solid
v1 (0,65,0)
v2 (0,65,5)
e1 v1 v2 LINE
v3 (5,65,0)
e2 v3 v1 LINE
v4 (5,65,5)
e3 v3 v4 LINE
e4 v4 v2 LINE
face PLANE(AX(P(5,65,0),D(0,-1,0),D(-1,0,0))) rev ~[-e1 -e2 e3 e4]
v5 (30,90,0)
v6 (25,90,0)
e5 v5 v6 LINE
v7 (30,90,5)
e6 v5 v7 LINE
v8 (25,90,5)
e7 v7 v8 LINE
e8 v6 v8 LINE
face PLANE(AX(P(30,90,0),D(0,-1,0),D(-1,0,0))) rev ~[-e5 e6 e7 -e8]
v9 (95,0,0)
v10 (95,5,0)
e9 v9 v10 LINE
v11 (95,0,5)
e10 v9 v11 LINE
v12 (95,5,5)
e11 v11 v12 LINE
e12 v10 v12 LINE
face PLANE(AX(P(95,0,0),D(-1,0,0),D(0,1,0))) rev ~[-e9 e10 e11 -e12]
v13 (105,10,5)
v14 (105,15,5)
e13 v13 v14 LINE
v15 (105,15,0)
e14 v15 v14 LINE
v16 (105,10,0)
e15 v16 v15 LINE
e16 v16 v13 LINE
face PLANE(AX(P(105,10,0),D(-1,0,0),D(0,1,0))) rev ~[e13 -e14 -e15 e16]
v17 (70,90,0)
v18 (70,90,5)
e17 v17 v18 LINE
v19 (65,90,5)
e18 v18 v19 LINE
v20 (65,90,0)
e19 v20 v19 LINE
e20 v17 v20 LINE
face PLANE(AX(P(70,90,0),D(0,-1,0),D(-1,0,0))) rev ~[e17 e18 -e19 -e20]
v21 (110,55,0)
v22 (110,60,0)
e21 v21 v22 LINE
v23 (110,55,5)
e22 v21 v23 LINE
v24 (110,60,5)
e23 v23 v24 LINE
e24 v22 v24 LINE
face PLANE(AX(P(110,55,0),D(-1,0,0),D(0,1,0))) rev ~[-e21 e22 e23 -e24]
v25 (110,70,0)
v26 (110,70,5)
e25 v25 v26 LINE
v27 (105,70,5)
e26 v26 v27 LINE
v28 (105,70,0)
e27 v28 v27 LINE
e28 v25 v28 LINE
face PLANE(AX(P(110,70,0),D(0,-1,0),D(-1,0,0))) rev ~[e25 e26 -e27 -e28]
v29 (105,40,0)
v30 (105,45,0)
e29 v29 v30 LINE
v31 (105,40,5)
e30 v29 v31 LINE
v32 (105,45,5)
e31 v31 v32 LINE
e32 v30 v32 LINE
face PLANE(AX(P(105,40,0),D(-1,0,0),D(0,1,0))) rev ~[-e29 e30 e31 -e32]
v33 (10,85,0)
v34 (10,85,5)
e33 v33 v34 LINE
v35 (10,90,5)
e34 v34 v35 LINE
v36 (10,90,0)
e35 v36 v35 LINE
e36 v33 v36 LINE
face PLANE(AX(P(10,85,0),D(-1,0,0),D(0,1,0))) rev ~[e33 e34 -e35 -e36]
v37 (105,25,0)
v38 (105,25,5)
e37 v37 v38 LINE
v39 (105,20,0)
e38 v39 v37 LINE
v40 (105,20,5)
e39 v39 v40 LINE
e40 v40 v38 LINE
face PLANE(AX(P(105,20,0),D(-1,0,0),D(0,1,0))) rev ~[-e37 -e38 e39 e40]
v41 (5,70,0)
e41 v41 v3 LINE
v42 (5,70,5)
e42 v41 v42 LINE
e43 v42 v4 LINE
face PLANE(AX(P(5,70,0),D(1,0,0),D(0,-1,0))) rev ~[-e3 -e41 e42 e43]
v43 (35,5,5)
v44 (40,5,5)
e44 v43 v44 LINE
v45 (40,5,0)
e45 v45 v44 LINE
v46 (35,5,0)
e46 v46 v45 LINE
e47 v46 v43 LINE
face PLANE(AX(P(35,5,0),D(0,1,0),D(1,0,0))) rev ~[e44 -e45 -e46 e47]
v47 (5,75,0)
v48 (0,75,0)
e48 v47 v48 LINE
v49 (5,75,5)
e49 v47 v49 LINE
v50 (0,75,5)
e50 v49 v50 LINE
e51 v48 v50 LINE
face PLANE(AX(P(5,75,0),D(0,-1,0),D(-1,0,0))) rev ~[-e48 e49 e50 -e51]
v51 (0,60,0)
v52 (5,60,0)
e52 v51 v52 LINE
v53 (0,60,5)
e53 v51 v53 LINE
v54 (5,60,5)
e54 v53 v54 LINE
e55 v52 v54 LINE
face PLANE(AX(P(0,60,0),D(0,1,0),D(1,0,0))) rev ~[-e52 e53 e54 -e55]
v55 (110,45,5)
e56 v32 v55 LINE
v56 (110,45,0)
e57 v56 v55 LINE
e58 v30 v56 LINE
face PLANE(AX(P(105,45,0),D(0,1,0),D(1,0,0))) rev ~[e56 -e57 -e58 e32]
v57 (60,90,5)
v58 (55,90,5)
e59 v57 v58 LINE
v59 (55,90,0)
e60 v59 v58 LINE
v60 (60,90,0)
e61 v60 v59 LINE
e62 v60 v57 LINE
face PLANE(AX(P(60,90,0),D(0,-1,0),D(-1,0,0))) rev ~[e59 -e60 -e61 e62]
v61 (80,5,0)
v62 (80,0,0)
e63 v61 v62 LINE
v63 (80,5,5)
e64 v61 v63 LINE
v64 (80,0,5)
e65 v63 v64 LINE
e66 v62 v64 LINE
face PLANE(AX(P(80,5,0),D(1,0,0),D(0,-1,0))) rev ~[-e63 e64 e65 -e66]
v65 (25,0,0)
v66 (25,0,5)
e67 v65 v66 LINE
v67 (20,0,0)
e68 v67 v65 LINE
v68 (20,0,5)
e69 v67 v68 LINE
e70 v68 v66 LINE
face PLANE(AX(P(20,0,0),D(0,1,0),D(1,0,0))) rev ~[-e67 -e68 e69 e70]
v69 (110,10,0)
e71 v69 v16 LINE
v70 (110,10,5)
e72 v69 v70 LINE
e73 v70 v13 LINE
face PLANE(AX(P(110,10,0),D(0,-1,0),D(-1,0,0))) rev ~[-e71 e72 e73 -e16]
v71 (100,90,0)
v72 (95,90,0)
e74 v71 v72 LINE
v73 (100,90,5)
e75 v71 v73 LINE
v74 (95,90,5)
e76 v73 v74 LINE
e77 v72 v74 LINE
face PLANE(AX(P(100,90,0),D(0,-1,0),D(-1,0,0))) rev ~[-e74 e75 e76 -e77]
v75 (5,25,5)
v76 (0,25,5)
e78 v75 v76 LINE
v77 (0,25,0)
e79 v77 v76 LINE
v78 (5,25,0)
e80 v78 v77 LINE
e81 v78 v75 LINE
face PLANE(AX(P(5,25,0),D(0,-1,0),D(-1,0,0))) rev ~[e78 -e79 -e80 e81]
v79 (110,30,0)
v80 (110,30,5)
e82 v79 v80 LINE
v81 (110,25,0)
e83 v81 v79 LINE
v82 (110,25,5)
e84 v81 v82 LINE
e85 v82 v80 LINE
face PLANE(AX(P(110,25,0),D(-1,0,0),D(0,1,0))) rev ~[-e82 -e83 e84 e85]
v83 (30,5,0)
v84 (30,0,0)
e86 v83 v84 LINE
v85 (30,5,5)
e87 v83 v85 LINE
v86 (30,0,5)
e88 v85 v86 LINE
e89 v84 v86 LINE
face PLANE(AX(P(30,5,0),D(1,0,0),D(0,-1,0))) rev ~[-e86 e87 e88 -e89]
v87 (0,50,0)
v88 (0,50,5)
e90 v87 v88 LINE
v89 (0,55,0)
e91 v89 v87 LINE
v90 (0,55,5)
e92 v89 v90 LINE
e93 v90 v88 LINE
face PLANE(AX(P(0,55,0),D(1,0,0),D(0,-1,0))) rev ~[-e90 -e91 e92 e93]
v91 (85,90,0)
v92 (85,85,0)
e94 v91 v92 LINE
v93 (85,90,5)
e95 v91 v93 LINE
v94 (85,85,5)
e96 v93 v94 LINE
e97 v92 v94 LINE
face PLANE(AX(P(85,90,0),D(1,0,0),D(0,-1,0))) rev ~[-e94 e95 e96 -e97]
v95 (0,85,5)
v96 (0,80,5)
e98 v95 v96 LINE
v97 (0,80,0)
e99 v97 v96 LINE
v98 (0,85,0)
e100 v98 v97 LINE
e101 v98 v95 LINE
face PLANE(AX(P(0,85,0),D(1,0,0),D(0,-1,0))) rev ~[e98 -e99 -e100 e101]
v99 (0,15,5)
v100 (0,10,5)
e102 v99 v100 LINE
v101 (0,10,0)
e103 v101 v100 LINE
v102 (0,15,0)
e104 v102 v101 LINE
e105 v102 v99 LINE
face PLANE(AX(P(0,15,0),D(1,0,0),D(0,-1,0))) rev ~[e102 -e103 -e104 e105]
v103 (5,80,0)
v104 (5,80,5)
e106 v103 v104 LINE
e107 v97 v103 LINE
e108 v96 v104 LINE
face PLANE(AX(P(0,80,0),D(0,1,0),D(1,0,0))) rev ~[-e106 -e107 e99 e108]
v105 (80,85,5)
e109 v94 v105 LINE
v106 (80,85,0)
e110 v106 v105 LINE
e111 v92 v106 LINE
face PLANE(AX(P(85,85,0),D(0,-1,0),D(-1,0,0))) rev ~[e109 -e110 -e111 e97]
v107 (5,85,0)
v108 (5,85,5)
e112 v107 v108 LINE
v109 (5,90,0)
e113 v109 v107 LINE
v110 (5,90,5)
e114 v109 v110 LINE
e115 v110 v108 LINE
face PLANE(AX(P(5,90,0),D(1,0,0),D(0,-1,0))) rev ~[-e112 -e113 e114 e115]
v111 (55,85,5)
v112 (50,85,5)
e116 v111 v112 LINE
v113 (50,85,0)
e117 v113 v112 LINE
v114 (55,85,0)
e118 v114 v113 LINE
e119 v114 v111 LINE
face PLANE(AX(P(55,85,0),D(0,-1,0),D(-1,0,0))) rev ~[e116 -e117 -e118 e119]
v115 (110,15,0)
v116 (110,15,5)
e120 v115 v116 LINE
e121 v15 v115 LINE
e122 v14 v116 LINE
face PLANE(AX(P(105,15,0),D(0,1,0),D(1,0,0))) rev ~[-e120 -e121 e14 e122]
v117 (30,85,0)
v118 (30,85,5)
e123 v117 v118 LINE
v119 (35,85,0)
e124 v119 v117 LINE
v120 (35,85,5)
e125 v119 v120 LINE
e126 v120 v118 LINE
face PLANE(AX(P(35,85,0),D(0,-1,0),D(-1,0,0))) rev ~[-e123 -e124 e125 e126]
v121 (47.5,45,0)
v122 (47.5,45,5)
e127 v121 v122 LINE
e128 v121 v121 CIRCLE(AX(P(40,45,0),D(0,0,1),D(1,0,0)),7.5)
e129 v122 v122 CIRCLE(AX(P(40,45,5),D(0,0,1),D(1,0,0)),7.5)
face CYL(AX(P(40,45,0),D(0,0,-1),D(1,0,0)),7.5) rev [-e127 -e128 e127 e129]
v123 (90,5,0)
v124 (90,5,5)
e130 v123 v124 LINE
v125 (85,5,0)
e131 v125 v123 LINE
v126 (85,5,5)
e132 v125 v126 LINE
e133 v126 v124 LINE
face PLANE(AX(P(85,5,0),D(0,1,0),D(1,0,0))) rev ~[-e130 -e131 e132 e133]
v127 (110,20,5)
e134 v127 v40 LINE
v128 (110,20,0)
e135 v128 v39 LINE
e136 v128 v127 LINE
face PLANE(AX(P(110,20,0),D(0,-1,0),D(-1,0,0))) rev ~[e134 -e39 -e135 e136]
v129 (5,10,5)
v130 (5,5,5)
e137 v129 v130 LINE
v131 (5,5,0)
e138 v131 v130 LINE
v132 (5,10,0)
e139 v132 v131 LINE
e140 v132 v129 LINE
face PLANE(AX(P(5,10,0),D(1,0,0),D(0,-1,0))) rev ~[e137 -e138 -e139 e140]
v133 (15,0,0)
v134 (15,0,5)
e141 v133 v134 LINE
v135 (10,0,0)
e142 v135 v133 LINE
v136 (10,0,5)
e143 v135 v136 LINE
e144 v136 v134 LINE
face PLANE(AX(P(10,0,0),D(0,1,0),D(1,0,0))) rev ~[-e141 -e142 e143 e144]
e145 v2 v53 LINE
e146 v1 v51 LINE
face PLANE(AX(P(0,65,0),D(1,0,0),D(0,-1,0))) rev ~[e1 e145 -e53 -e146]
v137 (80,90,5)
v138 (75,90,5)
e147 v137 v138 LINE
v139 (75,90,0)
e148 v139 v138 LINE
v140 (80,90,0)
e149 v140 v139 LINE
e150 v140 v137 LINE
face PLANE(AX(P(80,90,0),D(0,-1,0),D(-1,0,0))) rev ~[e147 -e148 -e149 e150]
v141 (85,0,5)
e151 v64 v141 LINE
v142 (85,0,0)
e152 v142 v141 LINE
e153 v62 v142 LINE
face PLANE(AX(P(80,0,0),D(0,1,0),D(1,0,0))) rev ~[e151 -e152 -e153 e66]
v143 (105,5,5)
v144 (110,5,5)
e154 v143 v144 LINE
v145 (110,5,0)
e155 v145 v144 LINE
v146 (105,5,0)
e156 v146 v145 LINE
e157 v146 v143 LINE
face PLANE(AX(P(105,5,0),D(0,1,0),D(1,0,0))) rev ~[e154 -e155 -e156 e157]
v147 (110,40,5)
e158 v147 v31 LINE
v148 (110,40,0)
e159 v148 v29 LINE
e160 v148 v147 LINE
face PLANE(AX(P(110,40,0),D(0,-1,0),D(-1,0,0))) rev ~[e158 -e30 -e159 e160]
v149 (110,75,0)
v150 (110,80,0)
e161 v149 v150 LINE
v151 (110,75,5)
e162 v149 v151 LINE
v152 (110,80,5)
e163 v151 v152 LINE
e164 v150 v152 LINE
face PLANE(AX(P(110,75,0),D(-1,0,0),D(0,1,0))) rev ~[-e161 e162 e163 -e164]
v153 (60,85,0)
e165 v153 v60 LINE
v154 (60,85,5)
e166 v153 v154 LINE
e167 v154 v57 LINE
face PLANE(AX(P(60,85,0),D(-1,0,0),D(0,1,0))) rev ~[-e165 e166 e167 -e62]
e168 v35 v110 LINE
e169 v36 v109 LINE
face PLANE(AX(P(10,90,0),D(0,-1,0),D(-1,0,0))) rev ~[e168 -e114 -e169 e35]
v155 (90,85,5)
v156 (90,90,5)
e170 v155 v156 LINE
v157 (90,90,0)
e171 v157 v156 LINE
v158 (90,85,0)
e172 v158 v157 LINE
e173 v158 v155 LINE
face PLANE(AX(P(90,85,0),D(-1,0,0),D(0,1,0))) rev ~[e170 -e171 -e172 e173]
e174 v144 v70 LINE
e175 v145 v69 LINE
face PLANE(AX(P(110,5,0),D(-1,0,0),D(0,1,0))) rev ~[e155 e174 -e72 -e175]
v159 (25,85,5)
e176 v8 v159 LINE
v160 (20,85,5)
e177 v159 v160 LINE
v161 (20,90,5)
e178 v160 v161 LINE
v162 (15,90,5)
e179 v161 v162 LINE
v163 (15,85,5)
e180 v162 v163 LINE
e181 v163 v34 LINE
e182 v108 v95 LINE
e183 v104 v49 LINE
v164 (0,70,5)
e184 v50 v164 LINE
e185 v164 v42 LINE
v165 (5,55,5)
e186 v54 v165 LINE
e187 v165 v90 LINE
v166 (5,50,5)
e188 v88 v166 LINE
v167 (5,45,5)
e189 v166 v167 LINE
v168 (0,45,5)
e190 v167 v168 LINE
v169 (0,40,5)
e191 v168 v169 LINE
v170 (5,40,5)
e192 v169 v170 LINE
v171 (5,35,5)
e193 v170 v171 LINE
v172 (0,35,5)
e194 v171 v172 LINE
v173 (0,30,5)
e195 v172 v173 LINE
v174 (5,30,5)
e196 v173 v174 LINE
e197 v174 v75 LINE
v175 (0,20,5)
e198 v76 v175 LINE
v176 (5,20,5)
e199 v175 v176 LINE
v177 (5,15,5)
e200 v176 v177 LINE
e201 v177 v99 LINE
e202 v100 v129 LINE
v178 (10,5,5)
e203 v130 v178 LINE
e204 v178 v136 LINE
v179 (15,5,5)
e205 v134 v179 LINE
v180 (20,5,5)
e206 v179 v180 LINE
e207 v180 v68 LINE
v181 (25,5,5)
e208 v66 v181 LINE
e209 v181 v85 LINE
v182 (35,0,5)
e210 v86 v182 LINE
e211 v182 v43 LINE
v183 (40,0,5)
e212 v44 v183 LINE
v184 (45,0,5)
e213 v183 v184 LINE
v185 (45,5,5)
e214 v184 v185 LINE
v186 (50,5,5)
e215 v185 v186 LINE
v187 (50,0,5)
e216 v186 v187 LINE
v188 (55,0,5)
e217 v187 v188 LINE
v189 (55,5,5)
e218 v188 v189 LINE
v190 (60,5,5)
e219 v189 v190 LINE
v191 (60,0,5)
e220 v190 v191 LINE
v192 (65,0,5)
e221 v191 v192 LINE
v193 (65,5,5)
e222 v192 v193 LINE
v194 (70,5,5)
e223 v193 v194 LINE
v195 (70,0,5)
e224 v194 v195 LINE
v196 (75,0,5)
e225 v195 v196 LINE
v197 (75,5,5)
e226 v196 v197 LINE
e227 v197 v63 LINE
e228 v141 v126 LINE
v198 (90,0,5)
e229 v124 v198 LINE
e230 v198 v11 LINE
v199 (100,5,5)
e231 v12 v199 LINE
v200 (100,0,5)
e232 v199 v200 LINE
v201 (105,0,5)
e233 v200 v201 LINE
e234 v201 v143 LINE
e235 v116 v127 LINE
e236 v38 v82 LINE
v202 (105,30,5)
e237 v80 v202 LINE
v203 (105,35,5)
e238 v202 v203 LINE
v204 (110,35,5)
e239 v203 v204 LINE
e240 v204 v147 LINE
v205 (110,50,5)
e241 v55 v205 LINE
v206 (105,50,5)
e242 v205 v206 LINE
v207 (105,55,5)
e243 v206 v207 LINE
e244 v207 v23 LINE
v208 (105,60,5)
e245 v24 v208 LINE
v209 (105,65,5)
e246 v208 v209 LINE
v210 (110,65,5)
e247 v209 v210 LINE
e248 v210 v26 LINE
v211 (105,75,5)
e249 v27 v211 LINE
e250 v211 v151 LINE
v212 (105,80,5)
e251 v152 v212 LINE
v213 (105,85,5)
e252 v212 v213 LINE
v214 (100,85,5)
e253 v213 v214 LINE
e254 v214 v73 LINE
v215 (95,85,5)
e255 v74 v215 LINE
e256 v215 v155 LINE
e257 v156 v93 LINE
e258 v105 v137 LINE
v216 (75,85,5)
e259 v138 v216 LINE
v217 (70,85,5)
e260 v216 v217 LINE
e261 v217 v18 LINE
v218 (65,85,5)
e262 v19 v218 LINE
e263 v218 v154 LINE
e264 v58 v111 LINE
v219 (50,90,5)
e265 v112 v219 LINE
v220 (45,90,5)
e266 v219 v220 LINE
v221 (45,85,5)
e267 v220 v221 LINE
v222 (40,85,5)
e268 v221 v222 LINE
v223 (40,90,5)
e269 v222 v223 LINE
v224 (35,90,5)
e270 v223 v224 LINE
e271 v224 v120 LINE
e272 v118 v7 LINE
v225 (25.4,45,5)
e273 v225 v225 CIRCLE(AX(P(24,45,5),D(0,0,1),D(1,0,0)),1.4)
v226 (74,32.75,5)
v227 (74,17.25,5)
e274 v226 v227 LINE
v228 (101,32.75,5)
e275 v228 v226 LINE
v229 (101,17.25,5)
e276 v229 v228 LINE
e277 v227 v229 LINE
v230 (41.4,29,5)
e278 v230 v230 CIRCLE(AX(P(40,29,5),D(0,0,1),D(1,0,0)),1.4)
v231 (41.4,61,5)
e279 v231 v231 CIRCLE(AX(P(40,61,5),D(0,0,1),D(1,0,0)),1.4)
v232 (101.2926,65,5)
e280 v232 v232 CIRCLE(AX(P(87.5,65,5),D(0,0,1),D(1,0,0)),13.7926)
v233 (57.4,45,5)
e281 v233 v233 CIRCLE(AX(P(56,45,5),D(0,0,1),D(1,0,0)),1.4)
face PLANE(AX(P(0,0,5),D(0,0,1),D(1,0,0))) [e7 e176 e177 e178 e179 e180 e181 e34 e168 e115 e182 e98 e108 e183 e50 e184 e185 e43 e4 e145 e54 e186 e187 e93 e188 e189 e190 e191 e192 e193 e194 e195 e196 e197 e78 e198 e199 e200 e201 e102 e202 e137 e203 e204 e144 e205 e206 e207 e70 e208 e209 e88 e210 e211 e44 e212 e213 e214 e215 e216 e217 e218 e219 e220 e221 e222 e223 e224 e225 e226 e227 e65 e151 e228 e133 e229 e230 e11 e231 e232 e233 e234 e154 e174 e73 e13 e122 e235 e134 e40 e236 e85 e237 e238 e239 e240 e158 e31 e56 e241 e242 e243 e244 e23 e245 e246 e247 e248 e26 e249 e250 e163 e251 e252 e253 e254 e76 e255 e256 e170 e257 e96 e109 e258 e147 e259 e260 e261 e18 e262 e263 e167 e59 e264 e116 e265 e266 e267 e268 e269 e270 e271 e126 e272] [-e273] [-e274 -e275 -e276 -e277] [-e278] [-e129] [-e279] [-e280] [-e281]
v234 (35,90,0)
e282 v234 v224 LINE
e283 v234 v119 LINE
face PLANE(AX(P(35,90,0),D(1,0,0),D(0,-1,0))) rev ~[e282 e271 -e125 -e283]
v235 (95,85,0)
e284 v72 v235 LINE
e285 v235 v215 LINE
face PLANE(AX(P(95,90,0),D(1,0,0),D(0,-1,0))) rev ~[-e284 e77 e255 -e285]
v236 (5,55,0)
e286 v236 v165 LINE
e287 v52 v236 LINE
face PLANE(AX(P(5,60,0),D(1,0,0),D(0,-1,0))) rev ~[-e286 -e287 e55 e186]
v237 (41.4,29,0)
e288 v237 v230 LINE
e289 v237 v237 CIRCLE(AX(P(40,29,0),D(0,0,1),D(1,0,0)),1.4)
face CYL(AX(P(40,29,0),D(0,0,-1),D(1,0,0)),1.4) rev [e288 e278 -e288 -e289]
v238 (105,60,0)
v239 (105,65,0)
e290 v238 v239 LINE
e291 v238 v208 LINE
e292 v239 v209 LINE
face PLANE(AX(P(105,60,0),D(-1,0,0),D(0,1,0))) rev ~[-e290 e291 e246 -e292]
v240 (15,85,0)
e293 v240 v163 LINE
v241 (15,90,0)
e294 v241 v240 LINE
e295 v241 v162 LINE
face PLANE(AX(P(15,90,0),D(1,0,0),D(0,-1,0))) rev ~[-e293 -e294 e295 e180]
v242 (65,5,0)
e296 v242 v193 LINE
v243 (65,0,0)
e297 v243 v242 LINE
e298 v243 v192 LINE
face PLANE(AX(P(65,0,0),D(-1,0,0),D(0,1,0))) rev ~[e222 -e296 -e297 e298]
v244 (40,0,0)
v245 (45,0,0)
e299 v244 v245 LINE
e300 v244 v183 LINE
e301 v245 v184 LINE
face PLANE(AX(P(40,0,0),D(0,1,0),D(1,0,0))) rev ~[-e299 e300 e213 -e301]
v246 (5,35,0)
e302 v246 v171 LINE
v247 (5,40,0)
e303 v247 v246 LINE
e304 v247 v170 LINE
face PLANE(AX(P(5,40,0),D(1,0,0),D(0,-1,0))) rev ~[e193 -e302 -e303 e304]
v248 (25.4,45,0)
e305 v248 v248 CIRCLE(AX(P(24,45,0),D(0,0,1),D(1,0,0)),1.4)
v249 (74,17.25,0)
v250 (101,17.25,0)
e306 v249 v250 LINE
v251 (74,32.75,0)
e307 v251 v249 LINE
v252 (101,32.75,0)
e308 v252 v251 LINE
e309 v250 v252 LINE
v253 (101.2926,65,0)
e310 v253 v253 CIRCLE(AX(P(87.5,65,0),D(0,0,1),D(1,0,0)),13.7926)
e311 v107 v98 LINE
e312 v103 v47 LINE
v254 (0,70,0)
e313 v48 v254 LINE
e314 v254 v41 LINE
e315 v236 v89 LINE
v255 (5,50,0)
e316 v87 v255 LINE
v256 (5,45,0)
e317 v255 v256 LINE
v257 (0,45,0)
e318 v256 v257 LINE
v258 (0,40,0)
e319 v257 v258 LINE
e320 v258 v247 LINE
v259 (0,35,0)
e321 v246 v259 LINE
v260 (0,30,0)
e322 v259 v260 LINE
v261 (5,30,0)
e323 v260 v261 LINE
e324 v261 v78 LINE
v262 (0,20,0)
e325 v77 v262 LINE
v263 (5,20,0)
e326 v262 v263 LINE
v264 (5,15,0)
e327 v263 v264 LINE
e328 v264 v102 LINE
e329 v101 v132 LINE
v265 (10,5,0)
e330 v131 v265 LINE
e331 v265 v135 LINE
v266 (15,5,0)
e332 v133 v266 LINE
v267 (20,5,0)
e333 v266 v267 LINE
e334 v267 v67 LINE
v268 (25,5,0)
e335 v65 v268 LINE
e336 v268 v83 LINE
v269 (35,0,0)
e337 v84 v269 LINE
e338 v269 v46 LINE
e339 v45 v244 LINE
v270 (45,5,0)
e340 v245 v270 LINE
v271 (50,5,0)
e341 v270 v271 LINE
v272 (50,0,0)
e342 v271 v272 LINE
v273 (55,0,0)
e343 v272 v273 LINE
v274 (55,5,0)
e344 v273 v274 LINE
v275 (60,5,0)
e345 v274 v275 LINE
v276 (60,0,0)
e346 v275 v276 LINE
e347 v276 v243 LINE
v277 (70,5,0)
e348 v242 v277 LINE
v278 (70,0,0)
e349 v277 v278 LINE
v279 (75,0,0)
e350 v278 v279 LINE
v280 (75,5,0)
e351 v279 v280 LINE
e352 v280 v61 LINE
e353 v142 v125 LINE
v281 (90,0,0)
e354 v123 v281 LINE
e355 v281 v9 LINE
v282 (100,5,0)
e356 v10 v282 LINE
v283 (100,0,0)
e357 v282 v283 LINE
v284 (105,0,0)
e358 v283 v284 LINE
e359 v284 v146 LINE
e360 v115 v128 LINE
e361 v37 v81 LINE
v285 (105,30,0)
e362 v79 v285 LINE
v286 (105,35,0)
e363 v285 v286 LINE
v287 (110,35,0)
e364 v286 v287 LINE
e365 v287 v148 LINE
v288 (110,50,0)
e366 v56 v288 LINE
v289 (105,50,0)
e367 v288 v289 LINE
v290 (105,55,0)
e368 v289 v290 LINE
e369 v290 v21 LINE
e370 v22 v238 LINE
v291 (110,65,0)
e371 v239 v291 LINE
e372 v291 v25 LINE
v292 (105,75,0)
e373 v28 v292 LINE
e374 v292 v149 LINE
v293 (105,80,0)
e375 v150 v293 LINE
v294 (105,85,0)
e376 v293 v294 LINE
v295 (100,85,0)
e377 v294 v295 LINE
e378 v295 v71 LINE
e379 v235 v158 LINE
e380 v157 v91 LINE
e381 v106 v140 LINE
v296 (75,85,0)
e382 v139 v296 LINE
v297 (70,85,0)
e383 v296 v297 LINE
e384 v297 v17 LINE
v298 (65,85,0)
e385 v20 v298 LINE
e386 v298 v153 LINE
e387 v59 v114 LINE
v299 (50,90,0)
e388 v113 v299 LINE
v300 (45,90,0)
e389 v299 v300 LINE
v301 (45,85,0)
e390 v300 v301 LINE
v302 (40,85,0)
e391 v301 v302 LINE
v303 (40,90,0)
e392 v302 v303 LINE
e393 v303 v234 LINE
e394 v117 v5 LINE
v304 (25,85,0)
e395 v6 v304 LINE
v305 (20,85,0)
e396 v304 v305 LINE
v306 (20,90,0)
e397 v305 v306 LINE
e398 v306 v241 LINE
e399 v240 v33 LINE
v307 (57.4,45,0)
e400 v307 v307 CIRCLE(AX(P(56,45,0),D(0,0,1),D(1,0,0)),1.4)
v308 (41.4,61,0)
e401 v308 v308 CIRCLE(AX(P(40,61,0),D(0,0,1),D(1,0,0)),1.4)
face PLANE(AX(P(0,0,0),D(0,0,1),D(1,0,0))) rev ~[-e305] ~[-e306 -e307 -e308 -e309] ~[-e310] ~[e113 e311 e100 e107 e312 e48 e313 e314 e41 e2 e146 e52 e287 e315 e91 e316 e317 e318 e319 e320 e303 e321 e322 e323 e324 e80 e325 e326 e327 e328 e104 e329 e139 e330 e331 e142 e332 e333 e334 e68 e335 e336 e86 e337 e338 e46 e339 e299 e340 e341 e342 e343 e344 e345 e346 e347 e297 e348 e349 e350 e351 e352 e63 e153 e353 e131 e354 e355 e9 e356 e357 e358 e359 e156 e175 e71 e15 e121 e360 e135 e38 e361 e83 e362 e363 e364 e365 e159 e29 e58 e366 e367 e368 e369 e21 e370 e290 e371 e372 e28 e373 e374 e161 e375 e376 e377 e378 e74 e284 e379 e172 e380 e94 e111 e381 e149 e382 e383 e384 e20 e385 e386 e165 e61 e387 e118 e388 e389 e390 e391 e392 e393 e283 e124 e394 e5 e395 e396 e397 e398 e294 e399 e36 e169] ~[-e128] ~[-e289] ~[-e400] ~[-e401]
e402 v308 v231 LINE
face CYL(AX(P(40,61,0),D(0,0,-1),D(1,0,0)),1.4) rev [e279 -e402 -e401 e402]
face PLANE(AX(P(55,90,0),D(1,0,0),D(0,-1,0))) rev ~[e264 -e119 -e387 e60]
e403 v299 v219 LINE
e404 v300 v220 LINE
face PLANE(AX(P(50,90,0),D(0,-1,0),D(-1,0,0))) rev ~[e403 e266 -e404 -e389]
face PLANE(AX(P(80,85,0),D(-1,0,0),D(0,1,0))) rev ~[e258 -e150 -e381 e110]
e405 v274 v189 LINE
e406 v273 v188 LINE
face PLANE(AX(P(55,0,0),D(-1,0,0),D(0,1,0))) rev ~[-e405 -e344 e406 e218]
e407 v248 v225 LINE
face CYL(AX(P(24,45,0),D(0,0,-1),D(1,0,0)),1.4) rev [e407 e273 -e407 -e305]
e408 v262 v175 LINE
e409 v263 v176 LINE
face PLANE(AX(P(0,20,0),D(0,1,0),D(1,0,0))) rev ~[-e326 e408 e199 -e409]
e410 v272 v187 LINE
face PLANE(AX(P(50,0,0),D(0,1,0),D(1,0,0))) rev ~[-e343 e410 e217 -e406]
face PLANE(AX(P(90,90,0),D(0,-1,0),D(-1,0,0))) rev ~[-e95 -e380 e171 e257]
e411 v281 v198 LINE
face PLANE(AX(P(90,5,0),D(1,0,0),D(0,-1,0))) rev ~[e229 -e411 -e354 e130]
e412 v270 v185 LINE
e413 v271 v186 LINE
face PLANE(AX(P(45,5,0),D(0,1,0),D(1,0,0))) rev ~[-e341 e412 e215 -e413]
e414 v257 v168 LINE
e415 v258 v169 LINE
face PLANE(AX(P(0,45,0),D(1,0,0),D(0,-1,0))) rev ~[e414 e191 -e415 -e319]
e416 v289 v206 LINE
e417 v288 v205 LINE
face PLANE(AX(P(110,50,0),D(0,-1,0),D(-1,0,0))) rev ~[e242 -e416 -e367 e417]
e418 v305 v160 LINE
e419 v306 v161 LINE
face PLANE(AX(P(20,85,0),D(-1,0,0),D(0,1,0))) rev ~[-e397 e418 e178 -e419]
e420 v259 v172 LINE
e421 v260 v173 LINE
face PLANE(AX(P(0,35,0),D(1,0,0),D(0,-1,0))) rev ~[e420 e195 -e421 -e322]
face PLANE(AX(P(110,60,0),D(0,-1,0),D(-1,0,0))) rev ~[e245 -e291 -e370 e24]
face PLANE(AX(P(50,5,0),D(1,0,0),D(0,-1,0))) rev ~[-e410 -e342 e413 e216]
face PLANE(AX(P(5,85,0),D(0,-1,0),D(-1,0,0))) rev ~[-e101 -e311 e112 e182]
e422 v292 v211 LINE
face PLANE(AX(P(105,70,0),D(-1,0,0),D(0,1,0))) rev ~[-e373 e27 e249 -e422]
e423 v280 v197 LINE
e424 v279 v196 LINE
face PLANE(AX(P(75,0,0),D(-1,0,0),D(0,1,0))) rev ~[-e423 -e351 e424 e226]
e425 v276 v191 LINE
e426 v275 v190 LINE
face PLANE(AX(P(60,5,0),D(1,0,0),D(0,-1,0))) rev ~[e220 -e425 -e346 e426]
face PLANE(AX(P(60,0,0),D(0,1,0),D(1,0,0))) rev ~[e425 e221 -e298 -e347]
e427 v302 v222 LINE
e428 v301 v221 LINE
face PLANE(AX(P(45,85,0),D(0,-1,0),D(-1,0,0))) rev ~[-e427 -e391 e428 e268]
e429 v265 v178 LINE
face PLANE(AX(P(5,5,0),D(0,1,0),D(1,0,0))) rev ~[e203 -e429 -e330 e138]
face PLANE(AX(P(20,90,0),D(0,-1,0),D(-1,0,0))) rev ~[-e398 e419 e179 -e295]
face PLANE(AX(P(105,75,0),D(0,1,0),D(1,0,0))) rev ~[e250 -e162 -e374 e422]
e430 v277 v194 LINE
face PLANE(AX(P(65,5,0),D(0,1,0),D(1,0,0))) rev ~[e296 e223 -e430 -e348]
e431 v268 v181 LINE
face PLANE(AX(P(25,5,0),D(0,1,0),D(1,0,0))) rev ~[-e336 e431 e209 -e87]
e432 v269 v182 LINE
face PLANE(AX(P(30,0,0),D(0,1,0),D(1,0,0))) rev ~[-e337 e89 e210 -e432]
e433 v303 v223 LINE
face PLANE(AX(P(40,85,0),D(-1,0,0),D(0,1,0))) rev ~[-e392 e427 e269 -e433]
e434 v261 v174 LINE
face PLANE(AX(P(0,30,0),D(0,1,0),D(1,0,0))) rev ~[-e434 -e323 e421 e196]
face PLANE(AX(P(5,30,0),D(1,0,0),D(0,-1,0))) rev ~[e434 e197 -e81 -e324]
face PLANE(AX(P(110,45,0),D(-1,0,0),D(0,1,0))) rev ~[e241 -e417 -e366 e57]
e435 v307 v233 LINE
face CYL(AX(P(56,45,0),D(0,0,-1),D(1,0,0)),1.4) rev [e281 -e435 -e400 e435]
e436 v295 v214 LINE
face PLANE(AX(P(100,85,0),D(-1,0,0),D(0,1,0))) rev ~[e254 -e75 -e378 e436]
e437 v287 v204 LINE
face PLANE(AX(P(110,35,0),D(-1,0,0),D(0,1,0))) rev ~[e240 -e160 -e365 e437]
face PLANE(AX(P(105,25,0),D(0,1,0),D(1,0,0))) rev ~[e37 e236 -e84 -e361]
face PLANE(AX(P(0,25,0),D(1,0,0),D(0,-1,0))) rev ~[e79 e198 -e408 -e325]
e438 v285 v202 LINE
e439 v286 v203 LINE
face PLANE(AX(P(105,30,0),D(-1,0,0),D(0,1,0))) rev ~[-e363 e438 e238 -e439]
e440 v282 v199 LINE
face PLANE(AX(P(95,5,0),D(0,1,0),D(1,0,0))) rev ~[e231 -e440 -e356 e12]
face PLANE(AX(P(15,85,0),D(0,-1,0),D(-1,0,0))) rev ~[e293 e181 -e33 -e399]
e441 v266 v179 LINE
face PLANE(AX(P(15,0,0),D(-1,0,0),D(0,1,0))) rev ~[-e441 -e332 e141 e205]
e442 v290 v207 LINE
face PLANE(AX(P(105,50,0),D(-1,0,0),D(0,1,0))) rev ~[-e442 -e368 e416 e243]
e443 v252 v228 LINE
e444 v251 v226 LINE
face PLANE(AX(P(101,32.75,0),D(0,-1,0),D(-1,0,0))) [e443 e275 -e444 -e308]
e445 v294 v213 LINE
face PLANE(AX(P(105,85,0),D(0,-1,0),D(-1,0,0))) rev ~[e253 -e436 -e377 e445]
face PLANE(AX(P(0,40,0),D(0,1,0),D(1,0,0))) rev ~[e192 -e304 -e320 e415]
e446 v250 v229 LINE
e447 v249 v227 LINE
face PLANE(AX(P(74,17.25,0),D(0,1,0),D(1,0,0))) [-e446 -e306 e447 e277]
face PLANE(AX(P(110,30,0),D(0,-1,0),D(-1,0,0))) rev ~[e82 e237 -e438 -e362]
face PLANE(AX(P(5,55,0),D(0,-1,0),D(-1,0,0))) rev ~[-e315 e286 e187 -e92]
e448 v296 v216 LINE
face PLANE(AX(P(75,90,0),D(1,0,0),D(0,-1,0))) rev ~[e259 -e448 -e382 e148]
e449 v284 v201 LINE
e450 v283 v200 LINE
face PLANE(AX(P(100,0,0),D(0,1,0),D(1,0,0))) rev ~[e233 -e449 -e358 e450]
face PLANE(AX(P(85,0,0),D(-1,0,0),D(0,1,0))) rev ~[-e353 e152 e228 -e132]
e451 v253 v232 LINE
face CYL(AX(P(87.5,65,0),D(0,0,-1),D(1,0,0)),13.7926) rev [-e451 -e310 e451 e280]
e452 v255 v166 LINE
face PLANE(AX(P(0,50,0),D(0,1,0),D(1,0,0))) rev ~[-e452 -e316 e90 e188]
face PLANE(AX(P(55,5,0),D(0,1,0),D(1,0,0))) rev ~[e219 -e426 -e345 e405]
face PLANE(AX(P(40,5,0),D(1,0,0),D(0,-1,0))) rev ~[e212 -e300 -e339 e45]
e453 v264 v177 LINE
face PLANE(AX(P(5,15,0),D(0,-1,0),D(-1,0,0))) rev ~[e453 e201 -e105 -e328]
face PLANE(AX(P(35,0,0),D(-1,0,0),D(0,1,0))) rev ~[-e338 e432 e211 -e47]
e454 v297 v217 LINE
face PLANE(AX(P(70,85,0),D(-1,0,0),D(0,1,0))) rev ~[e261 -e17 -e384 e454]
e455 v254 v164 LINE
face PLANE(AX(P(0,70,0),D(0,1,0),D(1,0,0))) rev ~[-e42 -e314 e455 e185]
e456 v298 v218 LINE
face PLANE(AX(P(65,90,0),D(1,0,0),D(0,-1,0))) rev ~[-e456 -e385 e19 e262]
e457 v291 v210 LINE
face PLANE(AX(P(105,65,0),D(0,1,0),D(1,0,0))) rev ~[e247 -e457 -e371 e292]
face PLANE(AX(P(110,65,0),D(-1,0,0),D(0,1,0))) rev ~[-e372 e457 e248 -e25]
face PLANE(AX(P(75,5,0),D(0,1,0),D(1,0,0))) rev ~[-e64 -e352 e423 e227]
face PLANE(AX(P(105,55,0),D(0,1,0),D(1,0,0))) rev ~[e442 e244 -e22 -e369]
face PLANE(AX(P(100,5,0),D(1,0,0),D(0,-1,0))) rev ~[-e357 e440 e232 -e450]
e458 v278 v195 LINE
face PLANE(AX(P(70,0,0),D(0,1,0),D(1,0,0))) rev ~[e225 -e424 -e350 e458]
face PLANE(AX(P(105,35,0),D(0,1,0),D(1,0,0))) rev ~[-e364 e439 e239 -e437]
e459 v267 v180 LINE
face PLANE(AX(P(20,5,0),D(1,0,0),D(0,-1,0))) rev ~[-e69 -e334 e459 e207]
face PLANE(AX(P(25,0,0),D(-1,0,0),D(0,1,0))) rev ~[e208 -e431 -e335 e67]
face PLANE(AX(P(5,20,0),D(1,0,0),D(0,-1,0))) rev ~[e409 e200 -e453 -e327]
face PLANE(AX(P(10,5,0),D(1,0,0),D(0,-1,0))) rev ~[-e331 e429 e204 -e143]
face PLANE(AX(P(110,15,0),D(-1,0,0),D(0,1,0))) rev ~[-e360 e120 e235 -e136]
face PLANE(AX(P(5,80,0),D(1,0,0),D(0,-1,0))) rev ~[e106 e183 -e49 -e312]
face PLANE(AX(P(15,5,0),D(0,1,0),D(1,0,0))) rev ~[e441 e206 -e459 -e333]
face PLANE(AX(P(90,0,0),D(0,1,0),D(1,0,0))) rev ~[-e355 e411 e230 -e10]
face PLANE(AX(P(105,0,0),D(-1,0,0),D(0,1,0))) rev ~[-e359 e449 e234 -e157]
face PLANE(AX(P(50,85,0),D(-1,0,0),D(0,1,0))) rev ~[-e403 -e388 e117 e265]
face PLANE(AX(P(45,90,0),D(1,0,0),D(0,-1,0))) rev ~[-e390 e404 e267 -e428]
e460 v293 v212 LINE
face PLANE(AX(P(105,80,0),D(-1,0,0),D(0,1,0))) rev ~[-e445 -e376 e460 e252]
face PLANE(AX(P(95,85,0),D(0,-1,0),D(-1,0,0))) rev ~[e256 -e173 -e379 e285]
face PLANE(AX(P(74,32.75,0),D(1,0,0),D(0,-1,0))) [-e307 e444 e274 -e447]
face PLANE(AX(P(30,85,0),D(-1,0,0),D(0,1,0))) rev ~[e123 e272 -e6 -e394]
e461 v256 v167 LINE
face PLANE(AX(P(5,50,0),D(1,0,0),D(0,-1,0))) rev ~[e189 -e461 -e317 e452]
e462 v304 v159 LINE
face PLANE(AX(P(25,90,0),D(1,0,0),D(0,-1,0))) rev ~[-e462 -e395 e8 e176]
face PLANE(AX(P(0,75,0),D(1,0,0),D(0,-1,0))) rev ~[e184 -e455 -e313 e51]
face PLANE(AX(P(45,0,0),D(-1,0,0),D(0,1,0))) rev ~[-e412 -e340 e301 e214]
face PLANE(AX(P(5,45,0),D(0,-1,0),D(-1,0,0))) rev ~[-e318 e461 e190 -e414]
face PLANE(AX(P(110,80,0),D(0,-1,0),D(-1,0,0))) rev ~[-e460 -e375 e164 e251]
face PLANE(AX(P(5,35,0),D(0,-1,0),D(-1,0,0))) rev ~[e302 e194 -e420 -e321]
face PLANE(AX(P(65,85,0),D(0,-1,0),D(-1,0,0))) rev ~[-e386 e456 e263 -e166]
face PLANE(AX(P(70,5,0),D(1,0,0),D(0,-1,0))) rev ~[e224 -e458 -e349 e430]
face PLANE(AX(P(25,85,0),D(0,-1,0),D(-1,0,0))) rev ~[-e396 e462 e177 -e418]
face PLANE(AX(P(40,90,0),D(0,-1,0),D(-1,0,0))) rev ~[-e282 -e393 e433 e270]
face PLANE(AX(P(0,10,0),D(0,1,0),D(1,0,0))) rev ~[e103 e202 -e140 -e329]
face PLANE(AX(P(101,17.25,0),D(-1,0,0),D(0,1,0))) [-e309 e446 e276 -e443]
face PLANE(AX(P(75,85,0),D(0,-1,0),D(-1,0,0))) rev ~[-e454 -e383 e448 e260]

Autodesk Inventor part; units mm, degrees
ref_plane "YZ Plane" through (0, 0, 0) normal (1, 0, 0) x (0, 1, 0)
ref_plane "XZ Plane" through (0, 0, 0) normal (0, 1, 0) x (-1, 0, 0)
ref_plane "XY Plane" through (0, 0, 0) normal (0, 0, 1) x (1, 0, 0)
sketch "Sketch1" plane through (0, 0, 0) normal (0, 0, 1) x (1, 0, 0)
  line L0 (5, 5) -> (105, 5)
  line L1 (105, 5) -> (105, 85)
  line L2 (105, 85) -> (5, 85)
  line L3 (5, 85) -> (5, 5)
  line L4 (0, 0) -> (5, 0)
  line L5 (5, 0) -> (5, 5)
  line L6 (5, 5) -> (0, 5)
  line L7 (0, 5) -> (0, 0)
  line L8 (0, 15) -> (0, 10)
  line L9 (5, 15) -> (0, 15)
  line L10 (0, 10) -> (5, 10)
  line L11 (0, 25) -> (0, 20)
  line L12 (5, 25) -> (0, 25)
  line L13 (0, 20) -> (5, 20)
  line L14 (0, 35) -> (0, 30)
  line L15 (5, 35) -> (0, 35)
  line L16 (0, 30) -> (5, 30)
  line L17 (0, 45) -> (0, 40)
  line L18 (5, 45) -> (0, 45)
  line L19 (0, 40) -> (5, 40)
  line L20 (0, 55) -> (0, 50)
  line L21 (5, 55) -> (0, 55)
  line L22 (0, 50) -> (5, 50)
  line L23 (0, 65) -> (0, 60)
  line L24 (5, 65) -> (0, 65)
  line L25 (0, 60) -> (5, 60)
  line L26 (0, 75) -> (0, 70)
  line L27 (5, 75) -> (0, 75)
  line L28 (0, 70) -> (5, 70)
  line L29 (0, 85) -> (0, 80)
  line L30 (5, 85) -> (0, 85)
  line L31 (0, 80) -> (5, 80)
  line L32 (10, 5) -> (10, 0)
  line L33 (10, 0) -> (15, 0)
  line L34 (15, 0) -> (15, 5)
  line L35 (20, 5) -> (20, 0)
  line L36 (20, 0) -> (25, 0)
  line L37 (25, 0) -> (25, 5)
  line L38 (30, 5) -> (30, 0)
  line L39 (30, 0) -> (35, 0)
  line L40 (35, 0) -> (35, 5)
  line L41 (40, 5) -> (40, 0)
  line L42 (40, 0) -> (45, 0)
  line L43 (45, 0) -> (45, 5)
  line L44 (50, 5) -> (50, 0)
  line L45 (50, 0) -> (55, 0)
  line L46 (55, 0) -> (55, 5)
  line L47 (60, 5) -> (60, 0)
  line L48 (60, 0) -> (65, 0)
  line L49 (65, 0) -> (65, 5)
  line L50 (70, 5) -> (70, 0)
  line L51 (70, 0) -> (75, 0)
  line L52 (75, 0) -> (75, 5)
  line L53 (80, 5) -> (80, 0)
  line L54 (80, 0) -> (85, 0)
  line L55 (85, 0) -> (85, 5)
  line L56 (90, 5) -> (90, 0)
  line L57 (90, 0) -> (95, 0)
  line L58 (95, 0) -> (95, 5)
  line L59 (100, 5) -> (100, 0)
  line L60 (100, 0) -> (105, 0)
  line L61 (105, 0) -> (105, 5)
  line L62 (105, 85) -> (110, 85)
  line L63 (110, 85) -> (110, 90)
  line L64 (110, 90) -> (105, 90)
  line L65 (105, 90) -> (105, 85)
  line L66 (105, 75) -> (110, 75)
  line L67 (110, 75) -> (110, 80)
  line L68 (110, 80) -> (105, 80)
  line L69 (105, 65) -> (110, 65)
  line L70 (110, 65) -> (110, 70)
  line L71 (110, 70) -> (105, 70)
  line L72 (105, 55) -> (110, 55)
  line L73 (110, 55) -> (110, 60)
  line L74 (110, 60) -> (105, 60)
  line L75 (105, 45) -> (110, 45)
  line L76 (110, 45) -> (110, 50)
  line L77 (110, 50) -> (105, 50)
  line L78 (105, 35) -> (110, 35)
  line L79 (110, 35) -> (110, 40)
  line L80 (110, 40) -> (105, 40)
  line L81 (105, 25) -> (110, 25)
  line L82 (110, 25) -> (110, 30)
  line L83 (110, 30) -> (105, 30)
  line L84 (105, 15) -> (110, 15)
  line L85 (110, 15) -> (110, 20)
  line L86 (110, 20) -> (105, 20)
  line L87 (105, 5) -> (110, 5)
  line L88 (110, 5) -> (110, 10)
  line L89 (110, 10) -> (105, 10)
  line L90 (100, 85) -> (100, 90)
  line L91 (100, 90) -> (95, 90)
  line L92 (95, 90) -> (95, 85)
  line L93 (90, 85) -> (90, 90)
  line L94 (90, 90) -> (85, 90)
  line L95 (85, 90) -> (85, 85)
  line L96 (80, 85) -> (80, 90)
  line L97 (80, 90) -> (75, 90)
  line L98 (75, 90) -> (75, 85)
  line L99 (70, 85) -> (70, 90)
  line L100 (70, 90) -> (65, 90)
  line L101 (65, 90) -> (65, 85)
  line L102 (60, 85) -> (60, 90)
  line L103 (60, 90) -> (55, 90)
  line L104 (55, 90) -> (55, 85)
  line L105 (50, 85) -> (50, 90)
  line L106 (50, 90) -> (45, 90)
  line L107 (45, 90) -> (45, 85)
  line L108 (40, 85) -> (40, 90)
  line L109 (40, 90) -> (35, 90)
  line L110 (35, 90) -> (35, 85)
  line L111 (30, 85) -> (30, 90)
  line L112 (30, 90) -> (25, 90)
  line L113 (25, 90) -> (25, 85)
  line L114 (20, 85) -> (20, 90)
  line L115 (20, 90) -> (15, 90)
  line L116 (15, 90) -> (15, 85)
  line L117 (10, 85) -> (10, 90)
  line L118 (10, 90) -> (5, 90)
  line L119 (5, 90) -> (5, 85)
  circle A0 centre (40, 45) radius 7.5
  circle A1 centre (24, 45) radius 1.4
  circle A2 centre (56, 45) radius 1.4
  circle A3 centre (40, 61) radius 1.4
  circle A4 centre (40, 29) radius 1.4
  circle A5 centre (87.5, 65) radius 13.7926
  line L120 (7.75, 7) -> (72.25, 7)
  line L121 (72.25, 7) -> (72.25, 83)
  line L122 (72.25, 83) -> (7.75, 83)
  line L123 (7.75, 83) -> (7.75, 7)
  line L124 (7.75, 7) -> (72.25, 83) construction
  line L125 (72.25, 7) -> (7.75, 83) construction
  line L126 (74, 17.25) -> (101, 17.25)
  line L127 (101, 17.25) -> (101, 32.75)
  line L128 (101, 32.75) -> (74, 32.75)
  line L129 (74, 32.75) -> (74, 17.25)
  line L130 (74, 17.25) -> (101, 32.75) construction
  line L131 (101, 17.25) -> (74, 32.75) construction
  point P0 (87.5, 25)
  dimension "d0" = 100
  dimension "d1" = 80
  dimension "d4" = 10
  dimension "d11" = 10
  dimension "d16" = 5
  dimension "d17" = 5
  dimension "d20" = 10
  dimension "d27" = 10
  dimension "d32" = 15
  dimension "d33" = 2.8
  dimension "d34" = 2.8
  dimension "d35" = 2.8
  dimension "d36" = 2.8
extrude "Extrusion1" add sketch "Sketch1" along normal blind 5 contours L3 L2 L1 L0 | L0 L34 L33 L32 | L10 L8 L9 L3 | L0 L37 L36 L35 | L13 L11 L12 L3 | L0 L40 L39 L38 | L16 L14 L15 L3 | L0 L43 L42 L41 | L19 L17 L18 L3 | L0 L46 L45 L44 | L22 L20 L21 L3 | L0 L49 L48 L47 | L25 L23 L24 L3 | L0 L52 L51 L50 | L28 L26 L27 L3 | L0 L55 L54 L53 | L31 L29 L30 L3 | L119 L118 L117 L2 | L0 L58 L57 L56 | L116 L115 L114 L2 | L0 L61 L60 L59 | L1 L89 L88 L87 | L113 L112 L111 L2 | L1 L86 L85 L84 | L110 L109 L108 L2 | L1 L83 L82 L81 | L107 L106 L105 L2 | L1 L80 L79 L78 | L104 L103 L102 L2 | L1 L77 L76 L75 | L101 L100 L99 L2 | L1 L74 L73 L72 | L98 L97 L96 L2 | L1 L71 L70 L69 | L95 L94 L93 L2 | L1 L68 L67 L66 | L92 L91 L90 L2 | L123 L122 L121 L120
properties part number "topside"
